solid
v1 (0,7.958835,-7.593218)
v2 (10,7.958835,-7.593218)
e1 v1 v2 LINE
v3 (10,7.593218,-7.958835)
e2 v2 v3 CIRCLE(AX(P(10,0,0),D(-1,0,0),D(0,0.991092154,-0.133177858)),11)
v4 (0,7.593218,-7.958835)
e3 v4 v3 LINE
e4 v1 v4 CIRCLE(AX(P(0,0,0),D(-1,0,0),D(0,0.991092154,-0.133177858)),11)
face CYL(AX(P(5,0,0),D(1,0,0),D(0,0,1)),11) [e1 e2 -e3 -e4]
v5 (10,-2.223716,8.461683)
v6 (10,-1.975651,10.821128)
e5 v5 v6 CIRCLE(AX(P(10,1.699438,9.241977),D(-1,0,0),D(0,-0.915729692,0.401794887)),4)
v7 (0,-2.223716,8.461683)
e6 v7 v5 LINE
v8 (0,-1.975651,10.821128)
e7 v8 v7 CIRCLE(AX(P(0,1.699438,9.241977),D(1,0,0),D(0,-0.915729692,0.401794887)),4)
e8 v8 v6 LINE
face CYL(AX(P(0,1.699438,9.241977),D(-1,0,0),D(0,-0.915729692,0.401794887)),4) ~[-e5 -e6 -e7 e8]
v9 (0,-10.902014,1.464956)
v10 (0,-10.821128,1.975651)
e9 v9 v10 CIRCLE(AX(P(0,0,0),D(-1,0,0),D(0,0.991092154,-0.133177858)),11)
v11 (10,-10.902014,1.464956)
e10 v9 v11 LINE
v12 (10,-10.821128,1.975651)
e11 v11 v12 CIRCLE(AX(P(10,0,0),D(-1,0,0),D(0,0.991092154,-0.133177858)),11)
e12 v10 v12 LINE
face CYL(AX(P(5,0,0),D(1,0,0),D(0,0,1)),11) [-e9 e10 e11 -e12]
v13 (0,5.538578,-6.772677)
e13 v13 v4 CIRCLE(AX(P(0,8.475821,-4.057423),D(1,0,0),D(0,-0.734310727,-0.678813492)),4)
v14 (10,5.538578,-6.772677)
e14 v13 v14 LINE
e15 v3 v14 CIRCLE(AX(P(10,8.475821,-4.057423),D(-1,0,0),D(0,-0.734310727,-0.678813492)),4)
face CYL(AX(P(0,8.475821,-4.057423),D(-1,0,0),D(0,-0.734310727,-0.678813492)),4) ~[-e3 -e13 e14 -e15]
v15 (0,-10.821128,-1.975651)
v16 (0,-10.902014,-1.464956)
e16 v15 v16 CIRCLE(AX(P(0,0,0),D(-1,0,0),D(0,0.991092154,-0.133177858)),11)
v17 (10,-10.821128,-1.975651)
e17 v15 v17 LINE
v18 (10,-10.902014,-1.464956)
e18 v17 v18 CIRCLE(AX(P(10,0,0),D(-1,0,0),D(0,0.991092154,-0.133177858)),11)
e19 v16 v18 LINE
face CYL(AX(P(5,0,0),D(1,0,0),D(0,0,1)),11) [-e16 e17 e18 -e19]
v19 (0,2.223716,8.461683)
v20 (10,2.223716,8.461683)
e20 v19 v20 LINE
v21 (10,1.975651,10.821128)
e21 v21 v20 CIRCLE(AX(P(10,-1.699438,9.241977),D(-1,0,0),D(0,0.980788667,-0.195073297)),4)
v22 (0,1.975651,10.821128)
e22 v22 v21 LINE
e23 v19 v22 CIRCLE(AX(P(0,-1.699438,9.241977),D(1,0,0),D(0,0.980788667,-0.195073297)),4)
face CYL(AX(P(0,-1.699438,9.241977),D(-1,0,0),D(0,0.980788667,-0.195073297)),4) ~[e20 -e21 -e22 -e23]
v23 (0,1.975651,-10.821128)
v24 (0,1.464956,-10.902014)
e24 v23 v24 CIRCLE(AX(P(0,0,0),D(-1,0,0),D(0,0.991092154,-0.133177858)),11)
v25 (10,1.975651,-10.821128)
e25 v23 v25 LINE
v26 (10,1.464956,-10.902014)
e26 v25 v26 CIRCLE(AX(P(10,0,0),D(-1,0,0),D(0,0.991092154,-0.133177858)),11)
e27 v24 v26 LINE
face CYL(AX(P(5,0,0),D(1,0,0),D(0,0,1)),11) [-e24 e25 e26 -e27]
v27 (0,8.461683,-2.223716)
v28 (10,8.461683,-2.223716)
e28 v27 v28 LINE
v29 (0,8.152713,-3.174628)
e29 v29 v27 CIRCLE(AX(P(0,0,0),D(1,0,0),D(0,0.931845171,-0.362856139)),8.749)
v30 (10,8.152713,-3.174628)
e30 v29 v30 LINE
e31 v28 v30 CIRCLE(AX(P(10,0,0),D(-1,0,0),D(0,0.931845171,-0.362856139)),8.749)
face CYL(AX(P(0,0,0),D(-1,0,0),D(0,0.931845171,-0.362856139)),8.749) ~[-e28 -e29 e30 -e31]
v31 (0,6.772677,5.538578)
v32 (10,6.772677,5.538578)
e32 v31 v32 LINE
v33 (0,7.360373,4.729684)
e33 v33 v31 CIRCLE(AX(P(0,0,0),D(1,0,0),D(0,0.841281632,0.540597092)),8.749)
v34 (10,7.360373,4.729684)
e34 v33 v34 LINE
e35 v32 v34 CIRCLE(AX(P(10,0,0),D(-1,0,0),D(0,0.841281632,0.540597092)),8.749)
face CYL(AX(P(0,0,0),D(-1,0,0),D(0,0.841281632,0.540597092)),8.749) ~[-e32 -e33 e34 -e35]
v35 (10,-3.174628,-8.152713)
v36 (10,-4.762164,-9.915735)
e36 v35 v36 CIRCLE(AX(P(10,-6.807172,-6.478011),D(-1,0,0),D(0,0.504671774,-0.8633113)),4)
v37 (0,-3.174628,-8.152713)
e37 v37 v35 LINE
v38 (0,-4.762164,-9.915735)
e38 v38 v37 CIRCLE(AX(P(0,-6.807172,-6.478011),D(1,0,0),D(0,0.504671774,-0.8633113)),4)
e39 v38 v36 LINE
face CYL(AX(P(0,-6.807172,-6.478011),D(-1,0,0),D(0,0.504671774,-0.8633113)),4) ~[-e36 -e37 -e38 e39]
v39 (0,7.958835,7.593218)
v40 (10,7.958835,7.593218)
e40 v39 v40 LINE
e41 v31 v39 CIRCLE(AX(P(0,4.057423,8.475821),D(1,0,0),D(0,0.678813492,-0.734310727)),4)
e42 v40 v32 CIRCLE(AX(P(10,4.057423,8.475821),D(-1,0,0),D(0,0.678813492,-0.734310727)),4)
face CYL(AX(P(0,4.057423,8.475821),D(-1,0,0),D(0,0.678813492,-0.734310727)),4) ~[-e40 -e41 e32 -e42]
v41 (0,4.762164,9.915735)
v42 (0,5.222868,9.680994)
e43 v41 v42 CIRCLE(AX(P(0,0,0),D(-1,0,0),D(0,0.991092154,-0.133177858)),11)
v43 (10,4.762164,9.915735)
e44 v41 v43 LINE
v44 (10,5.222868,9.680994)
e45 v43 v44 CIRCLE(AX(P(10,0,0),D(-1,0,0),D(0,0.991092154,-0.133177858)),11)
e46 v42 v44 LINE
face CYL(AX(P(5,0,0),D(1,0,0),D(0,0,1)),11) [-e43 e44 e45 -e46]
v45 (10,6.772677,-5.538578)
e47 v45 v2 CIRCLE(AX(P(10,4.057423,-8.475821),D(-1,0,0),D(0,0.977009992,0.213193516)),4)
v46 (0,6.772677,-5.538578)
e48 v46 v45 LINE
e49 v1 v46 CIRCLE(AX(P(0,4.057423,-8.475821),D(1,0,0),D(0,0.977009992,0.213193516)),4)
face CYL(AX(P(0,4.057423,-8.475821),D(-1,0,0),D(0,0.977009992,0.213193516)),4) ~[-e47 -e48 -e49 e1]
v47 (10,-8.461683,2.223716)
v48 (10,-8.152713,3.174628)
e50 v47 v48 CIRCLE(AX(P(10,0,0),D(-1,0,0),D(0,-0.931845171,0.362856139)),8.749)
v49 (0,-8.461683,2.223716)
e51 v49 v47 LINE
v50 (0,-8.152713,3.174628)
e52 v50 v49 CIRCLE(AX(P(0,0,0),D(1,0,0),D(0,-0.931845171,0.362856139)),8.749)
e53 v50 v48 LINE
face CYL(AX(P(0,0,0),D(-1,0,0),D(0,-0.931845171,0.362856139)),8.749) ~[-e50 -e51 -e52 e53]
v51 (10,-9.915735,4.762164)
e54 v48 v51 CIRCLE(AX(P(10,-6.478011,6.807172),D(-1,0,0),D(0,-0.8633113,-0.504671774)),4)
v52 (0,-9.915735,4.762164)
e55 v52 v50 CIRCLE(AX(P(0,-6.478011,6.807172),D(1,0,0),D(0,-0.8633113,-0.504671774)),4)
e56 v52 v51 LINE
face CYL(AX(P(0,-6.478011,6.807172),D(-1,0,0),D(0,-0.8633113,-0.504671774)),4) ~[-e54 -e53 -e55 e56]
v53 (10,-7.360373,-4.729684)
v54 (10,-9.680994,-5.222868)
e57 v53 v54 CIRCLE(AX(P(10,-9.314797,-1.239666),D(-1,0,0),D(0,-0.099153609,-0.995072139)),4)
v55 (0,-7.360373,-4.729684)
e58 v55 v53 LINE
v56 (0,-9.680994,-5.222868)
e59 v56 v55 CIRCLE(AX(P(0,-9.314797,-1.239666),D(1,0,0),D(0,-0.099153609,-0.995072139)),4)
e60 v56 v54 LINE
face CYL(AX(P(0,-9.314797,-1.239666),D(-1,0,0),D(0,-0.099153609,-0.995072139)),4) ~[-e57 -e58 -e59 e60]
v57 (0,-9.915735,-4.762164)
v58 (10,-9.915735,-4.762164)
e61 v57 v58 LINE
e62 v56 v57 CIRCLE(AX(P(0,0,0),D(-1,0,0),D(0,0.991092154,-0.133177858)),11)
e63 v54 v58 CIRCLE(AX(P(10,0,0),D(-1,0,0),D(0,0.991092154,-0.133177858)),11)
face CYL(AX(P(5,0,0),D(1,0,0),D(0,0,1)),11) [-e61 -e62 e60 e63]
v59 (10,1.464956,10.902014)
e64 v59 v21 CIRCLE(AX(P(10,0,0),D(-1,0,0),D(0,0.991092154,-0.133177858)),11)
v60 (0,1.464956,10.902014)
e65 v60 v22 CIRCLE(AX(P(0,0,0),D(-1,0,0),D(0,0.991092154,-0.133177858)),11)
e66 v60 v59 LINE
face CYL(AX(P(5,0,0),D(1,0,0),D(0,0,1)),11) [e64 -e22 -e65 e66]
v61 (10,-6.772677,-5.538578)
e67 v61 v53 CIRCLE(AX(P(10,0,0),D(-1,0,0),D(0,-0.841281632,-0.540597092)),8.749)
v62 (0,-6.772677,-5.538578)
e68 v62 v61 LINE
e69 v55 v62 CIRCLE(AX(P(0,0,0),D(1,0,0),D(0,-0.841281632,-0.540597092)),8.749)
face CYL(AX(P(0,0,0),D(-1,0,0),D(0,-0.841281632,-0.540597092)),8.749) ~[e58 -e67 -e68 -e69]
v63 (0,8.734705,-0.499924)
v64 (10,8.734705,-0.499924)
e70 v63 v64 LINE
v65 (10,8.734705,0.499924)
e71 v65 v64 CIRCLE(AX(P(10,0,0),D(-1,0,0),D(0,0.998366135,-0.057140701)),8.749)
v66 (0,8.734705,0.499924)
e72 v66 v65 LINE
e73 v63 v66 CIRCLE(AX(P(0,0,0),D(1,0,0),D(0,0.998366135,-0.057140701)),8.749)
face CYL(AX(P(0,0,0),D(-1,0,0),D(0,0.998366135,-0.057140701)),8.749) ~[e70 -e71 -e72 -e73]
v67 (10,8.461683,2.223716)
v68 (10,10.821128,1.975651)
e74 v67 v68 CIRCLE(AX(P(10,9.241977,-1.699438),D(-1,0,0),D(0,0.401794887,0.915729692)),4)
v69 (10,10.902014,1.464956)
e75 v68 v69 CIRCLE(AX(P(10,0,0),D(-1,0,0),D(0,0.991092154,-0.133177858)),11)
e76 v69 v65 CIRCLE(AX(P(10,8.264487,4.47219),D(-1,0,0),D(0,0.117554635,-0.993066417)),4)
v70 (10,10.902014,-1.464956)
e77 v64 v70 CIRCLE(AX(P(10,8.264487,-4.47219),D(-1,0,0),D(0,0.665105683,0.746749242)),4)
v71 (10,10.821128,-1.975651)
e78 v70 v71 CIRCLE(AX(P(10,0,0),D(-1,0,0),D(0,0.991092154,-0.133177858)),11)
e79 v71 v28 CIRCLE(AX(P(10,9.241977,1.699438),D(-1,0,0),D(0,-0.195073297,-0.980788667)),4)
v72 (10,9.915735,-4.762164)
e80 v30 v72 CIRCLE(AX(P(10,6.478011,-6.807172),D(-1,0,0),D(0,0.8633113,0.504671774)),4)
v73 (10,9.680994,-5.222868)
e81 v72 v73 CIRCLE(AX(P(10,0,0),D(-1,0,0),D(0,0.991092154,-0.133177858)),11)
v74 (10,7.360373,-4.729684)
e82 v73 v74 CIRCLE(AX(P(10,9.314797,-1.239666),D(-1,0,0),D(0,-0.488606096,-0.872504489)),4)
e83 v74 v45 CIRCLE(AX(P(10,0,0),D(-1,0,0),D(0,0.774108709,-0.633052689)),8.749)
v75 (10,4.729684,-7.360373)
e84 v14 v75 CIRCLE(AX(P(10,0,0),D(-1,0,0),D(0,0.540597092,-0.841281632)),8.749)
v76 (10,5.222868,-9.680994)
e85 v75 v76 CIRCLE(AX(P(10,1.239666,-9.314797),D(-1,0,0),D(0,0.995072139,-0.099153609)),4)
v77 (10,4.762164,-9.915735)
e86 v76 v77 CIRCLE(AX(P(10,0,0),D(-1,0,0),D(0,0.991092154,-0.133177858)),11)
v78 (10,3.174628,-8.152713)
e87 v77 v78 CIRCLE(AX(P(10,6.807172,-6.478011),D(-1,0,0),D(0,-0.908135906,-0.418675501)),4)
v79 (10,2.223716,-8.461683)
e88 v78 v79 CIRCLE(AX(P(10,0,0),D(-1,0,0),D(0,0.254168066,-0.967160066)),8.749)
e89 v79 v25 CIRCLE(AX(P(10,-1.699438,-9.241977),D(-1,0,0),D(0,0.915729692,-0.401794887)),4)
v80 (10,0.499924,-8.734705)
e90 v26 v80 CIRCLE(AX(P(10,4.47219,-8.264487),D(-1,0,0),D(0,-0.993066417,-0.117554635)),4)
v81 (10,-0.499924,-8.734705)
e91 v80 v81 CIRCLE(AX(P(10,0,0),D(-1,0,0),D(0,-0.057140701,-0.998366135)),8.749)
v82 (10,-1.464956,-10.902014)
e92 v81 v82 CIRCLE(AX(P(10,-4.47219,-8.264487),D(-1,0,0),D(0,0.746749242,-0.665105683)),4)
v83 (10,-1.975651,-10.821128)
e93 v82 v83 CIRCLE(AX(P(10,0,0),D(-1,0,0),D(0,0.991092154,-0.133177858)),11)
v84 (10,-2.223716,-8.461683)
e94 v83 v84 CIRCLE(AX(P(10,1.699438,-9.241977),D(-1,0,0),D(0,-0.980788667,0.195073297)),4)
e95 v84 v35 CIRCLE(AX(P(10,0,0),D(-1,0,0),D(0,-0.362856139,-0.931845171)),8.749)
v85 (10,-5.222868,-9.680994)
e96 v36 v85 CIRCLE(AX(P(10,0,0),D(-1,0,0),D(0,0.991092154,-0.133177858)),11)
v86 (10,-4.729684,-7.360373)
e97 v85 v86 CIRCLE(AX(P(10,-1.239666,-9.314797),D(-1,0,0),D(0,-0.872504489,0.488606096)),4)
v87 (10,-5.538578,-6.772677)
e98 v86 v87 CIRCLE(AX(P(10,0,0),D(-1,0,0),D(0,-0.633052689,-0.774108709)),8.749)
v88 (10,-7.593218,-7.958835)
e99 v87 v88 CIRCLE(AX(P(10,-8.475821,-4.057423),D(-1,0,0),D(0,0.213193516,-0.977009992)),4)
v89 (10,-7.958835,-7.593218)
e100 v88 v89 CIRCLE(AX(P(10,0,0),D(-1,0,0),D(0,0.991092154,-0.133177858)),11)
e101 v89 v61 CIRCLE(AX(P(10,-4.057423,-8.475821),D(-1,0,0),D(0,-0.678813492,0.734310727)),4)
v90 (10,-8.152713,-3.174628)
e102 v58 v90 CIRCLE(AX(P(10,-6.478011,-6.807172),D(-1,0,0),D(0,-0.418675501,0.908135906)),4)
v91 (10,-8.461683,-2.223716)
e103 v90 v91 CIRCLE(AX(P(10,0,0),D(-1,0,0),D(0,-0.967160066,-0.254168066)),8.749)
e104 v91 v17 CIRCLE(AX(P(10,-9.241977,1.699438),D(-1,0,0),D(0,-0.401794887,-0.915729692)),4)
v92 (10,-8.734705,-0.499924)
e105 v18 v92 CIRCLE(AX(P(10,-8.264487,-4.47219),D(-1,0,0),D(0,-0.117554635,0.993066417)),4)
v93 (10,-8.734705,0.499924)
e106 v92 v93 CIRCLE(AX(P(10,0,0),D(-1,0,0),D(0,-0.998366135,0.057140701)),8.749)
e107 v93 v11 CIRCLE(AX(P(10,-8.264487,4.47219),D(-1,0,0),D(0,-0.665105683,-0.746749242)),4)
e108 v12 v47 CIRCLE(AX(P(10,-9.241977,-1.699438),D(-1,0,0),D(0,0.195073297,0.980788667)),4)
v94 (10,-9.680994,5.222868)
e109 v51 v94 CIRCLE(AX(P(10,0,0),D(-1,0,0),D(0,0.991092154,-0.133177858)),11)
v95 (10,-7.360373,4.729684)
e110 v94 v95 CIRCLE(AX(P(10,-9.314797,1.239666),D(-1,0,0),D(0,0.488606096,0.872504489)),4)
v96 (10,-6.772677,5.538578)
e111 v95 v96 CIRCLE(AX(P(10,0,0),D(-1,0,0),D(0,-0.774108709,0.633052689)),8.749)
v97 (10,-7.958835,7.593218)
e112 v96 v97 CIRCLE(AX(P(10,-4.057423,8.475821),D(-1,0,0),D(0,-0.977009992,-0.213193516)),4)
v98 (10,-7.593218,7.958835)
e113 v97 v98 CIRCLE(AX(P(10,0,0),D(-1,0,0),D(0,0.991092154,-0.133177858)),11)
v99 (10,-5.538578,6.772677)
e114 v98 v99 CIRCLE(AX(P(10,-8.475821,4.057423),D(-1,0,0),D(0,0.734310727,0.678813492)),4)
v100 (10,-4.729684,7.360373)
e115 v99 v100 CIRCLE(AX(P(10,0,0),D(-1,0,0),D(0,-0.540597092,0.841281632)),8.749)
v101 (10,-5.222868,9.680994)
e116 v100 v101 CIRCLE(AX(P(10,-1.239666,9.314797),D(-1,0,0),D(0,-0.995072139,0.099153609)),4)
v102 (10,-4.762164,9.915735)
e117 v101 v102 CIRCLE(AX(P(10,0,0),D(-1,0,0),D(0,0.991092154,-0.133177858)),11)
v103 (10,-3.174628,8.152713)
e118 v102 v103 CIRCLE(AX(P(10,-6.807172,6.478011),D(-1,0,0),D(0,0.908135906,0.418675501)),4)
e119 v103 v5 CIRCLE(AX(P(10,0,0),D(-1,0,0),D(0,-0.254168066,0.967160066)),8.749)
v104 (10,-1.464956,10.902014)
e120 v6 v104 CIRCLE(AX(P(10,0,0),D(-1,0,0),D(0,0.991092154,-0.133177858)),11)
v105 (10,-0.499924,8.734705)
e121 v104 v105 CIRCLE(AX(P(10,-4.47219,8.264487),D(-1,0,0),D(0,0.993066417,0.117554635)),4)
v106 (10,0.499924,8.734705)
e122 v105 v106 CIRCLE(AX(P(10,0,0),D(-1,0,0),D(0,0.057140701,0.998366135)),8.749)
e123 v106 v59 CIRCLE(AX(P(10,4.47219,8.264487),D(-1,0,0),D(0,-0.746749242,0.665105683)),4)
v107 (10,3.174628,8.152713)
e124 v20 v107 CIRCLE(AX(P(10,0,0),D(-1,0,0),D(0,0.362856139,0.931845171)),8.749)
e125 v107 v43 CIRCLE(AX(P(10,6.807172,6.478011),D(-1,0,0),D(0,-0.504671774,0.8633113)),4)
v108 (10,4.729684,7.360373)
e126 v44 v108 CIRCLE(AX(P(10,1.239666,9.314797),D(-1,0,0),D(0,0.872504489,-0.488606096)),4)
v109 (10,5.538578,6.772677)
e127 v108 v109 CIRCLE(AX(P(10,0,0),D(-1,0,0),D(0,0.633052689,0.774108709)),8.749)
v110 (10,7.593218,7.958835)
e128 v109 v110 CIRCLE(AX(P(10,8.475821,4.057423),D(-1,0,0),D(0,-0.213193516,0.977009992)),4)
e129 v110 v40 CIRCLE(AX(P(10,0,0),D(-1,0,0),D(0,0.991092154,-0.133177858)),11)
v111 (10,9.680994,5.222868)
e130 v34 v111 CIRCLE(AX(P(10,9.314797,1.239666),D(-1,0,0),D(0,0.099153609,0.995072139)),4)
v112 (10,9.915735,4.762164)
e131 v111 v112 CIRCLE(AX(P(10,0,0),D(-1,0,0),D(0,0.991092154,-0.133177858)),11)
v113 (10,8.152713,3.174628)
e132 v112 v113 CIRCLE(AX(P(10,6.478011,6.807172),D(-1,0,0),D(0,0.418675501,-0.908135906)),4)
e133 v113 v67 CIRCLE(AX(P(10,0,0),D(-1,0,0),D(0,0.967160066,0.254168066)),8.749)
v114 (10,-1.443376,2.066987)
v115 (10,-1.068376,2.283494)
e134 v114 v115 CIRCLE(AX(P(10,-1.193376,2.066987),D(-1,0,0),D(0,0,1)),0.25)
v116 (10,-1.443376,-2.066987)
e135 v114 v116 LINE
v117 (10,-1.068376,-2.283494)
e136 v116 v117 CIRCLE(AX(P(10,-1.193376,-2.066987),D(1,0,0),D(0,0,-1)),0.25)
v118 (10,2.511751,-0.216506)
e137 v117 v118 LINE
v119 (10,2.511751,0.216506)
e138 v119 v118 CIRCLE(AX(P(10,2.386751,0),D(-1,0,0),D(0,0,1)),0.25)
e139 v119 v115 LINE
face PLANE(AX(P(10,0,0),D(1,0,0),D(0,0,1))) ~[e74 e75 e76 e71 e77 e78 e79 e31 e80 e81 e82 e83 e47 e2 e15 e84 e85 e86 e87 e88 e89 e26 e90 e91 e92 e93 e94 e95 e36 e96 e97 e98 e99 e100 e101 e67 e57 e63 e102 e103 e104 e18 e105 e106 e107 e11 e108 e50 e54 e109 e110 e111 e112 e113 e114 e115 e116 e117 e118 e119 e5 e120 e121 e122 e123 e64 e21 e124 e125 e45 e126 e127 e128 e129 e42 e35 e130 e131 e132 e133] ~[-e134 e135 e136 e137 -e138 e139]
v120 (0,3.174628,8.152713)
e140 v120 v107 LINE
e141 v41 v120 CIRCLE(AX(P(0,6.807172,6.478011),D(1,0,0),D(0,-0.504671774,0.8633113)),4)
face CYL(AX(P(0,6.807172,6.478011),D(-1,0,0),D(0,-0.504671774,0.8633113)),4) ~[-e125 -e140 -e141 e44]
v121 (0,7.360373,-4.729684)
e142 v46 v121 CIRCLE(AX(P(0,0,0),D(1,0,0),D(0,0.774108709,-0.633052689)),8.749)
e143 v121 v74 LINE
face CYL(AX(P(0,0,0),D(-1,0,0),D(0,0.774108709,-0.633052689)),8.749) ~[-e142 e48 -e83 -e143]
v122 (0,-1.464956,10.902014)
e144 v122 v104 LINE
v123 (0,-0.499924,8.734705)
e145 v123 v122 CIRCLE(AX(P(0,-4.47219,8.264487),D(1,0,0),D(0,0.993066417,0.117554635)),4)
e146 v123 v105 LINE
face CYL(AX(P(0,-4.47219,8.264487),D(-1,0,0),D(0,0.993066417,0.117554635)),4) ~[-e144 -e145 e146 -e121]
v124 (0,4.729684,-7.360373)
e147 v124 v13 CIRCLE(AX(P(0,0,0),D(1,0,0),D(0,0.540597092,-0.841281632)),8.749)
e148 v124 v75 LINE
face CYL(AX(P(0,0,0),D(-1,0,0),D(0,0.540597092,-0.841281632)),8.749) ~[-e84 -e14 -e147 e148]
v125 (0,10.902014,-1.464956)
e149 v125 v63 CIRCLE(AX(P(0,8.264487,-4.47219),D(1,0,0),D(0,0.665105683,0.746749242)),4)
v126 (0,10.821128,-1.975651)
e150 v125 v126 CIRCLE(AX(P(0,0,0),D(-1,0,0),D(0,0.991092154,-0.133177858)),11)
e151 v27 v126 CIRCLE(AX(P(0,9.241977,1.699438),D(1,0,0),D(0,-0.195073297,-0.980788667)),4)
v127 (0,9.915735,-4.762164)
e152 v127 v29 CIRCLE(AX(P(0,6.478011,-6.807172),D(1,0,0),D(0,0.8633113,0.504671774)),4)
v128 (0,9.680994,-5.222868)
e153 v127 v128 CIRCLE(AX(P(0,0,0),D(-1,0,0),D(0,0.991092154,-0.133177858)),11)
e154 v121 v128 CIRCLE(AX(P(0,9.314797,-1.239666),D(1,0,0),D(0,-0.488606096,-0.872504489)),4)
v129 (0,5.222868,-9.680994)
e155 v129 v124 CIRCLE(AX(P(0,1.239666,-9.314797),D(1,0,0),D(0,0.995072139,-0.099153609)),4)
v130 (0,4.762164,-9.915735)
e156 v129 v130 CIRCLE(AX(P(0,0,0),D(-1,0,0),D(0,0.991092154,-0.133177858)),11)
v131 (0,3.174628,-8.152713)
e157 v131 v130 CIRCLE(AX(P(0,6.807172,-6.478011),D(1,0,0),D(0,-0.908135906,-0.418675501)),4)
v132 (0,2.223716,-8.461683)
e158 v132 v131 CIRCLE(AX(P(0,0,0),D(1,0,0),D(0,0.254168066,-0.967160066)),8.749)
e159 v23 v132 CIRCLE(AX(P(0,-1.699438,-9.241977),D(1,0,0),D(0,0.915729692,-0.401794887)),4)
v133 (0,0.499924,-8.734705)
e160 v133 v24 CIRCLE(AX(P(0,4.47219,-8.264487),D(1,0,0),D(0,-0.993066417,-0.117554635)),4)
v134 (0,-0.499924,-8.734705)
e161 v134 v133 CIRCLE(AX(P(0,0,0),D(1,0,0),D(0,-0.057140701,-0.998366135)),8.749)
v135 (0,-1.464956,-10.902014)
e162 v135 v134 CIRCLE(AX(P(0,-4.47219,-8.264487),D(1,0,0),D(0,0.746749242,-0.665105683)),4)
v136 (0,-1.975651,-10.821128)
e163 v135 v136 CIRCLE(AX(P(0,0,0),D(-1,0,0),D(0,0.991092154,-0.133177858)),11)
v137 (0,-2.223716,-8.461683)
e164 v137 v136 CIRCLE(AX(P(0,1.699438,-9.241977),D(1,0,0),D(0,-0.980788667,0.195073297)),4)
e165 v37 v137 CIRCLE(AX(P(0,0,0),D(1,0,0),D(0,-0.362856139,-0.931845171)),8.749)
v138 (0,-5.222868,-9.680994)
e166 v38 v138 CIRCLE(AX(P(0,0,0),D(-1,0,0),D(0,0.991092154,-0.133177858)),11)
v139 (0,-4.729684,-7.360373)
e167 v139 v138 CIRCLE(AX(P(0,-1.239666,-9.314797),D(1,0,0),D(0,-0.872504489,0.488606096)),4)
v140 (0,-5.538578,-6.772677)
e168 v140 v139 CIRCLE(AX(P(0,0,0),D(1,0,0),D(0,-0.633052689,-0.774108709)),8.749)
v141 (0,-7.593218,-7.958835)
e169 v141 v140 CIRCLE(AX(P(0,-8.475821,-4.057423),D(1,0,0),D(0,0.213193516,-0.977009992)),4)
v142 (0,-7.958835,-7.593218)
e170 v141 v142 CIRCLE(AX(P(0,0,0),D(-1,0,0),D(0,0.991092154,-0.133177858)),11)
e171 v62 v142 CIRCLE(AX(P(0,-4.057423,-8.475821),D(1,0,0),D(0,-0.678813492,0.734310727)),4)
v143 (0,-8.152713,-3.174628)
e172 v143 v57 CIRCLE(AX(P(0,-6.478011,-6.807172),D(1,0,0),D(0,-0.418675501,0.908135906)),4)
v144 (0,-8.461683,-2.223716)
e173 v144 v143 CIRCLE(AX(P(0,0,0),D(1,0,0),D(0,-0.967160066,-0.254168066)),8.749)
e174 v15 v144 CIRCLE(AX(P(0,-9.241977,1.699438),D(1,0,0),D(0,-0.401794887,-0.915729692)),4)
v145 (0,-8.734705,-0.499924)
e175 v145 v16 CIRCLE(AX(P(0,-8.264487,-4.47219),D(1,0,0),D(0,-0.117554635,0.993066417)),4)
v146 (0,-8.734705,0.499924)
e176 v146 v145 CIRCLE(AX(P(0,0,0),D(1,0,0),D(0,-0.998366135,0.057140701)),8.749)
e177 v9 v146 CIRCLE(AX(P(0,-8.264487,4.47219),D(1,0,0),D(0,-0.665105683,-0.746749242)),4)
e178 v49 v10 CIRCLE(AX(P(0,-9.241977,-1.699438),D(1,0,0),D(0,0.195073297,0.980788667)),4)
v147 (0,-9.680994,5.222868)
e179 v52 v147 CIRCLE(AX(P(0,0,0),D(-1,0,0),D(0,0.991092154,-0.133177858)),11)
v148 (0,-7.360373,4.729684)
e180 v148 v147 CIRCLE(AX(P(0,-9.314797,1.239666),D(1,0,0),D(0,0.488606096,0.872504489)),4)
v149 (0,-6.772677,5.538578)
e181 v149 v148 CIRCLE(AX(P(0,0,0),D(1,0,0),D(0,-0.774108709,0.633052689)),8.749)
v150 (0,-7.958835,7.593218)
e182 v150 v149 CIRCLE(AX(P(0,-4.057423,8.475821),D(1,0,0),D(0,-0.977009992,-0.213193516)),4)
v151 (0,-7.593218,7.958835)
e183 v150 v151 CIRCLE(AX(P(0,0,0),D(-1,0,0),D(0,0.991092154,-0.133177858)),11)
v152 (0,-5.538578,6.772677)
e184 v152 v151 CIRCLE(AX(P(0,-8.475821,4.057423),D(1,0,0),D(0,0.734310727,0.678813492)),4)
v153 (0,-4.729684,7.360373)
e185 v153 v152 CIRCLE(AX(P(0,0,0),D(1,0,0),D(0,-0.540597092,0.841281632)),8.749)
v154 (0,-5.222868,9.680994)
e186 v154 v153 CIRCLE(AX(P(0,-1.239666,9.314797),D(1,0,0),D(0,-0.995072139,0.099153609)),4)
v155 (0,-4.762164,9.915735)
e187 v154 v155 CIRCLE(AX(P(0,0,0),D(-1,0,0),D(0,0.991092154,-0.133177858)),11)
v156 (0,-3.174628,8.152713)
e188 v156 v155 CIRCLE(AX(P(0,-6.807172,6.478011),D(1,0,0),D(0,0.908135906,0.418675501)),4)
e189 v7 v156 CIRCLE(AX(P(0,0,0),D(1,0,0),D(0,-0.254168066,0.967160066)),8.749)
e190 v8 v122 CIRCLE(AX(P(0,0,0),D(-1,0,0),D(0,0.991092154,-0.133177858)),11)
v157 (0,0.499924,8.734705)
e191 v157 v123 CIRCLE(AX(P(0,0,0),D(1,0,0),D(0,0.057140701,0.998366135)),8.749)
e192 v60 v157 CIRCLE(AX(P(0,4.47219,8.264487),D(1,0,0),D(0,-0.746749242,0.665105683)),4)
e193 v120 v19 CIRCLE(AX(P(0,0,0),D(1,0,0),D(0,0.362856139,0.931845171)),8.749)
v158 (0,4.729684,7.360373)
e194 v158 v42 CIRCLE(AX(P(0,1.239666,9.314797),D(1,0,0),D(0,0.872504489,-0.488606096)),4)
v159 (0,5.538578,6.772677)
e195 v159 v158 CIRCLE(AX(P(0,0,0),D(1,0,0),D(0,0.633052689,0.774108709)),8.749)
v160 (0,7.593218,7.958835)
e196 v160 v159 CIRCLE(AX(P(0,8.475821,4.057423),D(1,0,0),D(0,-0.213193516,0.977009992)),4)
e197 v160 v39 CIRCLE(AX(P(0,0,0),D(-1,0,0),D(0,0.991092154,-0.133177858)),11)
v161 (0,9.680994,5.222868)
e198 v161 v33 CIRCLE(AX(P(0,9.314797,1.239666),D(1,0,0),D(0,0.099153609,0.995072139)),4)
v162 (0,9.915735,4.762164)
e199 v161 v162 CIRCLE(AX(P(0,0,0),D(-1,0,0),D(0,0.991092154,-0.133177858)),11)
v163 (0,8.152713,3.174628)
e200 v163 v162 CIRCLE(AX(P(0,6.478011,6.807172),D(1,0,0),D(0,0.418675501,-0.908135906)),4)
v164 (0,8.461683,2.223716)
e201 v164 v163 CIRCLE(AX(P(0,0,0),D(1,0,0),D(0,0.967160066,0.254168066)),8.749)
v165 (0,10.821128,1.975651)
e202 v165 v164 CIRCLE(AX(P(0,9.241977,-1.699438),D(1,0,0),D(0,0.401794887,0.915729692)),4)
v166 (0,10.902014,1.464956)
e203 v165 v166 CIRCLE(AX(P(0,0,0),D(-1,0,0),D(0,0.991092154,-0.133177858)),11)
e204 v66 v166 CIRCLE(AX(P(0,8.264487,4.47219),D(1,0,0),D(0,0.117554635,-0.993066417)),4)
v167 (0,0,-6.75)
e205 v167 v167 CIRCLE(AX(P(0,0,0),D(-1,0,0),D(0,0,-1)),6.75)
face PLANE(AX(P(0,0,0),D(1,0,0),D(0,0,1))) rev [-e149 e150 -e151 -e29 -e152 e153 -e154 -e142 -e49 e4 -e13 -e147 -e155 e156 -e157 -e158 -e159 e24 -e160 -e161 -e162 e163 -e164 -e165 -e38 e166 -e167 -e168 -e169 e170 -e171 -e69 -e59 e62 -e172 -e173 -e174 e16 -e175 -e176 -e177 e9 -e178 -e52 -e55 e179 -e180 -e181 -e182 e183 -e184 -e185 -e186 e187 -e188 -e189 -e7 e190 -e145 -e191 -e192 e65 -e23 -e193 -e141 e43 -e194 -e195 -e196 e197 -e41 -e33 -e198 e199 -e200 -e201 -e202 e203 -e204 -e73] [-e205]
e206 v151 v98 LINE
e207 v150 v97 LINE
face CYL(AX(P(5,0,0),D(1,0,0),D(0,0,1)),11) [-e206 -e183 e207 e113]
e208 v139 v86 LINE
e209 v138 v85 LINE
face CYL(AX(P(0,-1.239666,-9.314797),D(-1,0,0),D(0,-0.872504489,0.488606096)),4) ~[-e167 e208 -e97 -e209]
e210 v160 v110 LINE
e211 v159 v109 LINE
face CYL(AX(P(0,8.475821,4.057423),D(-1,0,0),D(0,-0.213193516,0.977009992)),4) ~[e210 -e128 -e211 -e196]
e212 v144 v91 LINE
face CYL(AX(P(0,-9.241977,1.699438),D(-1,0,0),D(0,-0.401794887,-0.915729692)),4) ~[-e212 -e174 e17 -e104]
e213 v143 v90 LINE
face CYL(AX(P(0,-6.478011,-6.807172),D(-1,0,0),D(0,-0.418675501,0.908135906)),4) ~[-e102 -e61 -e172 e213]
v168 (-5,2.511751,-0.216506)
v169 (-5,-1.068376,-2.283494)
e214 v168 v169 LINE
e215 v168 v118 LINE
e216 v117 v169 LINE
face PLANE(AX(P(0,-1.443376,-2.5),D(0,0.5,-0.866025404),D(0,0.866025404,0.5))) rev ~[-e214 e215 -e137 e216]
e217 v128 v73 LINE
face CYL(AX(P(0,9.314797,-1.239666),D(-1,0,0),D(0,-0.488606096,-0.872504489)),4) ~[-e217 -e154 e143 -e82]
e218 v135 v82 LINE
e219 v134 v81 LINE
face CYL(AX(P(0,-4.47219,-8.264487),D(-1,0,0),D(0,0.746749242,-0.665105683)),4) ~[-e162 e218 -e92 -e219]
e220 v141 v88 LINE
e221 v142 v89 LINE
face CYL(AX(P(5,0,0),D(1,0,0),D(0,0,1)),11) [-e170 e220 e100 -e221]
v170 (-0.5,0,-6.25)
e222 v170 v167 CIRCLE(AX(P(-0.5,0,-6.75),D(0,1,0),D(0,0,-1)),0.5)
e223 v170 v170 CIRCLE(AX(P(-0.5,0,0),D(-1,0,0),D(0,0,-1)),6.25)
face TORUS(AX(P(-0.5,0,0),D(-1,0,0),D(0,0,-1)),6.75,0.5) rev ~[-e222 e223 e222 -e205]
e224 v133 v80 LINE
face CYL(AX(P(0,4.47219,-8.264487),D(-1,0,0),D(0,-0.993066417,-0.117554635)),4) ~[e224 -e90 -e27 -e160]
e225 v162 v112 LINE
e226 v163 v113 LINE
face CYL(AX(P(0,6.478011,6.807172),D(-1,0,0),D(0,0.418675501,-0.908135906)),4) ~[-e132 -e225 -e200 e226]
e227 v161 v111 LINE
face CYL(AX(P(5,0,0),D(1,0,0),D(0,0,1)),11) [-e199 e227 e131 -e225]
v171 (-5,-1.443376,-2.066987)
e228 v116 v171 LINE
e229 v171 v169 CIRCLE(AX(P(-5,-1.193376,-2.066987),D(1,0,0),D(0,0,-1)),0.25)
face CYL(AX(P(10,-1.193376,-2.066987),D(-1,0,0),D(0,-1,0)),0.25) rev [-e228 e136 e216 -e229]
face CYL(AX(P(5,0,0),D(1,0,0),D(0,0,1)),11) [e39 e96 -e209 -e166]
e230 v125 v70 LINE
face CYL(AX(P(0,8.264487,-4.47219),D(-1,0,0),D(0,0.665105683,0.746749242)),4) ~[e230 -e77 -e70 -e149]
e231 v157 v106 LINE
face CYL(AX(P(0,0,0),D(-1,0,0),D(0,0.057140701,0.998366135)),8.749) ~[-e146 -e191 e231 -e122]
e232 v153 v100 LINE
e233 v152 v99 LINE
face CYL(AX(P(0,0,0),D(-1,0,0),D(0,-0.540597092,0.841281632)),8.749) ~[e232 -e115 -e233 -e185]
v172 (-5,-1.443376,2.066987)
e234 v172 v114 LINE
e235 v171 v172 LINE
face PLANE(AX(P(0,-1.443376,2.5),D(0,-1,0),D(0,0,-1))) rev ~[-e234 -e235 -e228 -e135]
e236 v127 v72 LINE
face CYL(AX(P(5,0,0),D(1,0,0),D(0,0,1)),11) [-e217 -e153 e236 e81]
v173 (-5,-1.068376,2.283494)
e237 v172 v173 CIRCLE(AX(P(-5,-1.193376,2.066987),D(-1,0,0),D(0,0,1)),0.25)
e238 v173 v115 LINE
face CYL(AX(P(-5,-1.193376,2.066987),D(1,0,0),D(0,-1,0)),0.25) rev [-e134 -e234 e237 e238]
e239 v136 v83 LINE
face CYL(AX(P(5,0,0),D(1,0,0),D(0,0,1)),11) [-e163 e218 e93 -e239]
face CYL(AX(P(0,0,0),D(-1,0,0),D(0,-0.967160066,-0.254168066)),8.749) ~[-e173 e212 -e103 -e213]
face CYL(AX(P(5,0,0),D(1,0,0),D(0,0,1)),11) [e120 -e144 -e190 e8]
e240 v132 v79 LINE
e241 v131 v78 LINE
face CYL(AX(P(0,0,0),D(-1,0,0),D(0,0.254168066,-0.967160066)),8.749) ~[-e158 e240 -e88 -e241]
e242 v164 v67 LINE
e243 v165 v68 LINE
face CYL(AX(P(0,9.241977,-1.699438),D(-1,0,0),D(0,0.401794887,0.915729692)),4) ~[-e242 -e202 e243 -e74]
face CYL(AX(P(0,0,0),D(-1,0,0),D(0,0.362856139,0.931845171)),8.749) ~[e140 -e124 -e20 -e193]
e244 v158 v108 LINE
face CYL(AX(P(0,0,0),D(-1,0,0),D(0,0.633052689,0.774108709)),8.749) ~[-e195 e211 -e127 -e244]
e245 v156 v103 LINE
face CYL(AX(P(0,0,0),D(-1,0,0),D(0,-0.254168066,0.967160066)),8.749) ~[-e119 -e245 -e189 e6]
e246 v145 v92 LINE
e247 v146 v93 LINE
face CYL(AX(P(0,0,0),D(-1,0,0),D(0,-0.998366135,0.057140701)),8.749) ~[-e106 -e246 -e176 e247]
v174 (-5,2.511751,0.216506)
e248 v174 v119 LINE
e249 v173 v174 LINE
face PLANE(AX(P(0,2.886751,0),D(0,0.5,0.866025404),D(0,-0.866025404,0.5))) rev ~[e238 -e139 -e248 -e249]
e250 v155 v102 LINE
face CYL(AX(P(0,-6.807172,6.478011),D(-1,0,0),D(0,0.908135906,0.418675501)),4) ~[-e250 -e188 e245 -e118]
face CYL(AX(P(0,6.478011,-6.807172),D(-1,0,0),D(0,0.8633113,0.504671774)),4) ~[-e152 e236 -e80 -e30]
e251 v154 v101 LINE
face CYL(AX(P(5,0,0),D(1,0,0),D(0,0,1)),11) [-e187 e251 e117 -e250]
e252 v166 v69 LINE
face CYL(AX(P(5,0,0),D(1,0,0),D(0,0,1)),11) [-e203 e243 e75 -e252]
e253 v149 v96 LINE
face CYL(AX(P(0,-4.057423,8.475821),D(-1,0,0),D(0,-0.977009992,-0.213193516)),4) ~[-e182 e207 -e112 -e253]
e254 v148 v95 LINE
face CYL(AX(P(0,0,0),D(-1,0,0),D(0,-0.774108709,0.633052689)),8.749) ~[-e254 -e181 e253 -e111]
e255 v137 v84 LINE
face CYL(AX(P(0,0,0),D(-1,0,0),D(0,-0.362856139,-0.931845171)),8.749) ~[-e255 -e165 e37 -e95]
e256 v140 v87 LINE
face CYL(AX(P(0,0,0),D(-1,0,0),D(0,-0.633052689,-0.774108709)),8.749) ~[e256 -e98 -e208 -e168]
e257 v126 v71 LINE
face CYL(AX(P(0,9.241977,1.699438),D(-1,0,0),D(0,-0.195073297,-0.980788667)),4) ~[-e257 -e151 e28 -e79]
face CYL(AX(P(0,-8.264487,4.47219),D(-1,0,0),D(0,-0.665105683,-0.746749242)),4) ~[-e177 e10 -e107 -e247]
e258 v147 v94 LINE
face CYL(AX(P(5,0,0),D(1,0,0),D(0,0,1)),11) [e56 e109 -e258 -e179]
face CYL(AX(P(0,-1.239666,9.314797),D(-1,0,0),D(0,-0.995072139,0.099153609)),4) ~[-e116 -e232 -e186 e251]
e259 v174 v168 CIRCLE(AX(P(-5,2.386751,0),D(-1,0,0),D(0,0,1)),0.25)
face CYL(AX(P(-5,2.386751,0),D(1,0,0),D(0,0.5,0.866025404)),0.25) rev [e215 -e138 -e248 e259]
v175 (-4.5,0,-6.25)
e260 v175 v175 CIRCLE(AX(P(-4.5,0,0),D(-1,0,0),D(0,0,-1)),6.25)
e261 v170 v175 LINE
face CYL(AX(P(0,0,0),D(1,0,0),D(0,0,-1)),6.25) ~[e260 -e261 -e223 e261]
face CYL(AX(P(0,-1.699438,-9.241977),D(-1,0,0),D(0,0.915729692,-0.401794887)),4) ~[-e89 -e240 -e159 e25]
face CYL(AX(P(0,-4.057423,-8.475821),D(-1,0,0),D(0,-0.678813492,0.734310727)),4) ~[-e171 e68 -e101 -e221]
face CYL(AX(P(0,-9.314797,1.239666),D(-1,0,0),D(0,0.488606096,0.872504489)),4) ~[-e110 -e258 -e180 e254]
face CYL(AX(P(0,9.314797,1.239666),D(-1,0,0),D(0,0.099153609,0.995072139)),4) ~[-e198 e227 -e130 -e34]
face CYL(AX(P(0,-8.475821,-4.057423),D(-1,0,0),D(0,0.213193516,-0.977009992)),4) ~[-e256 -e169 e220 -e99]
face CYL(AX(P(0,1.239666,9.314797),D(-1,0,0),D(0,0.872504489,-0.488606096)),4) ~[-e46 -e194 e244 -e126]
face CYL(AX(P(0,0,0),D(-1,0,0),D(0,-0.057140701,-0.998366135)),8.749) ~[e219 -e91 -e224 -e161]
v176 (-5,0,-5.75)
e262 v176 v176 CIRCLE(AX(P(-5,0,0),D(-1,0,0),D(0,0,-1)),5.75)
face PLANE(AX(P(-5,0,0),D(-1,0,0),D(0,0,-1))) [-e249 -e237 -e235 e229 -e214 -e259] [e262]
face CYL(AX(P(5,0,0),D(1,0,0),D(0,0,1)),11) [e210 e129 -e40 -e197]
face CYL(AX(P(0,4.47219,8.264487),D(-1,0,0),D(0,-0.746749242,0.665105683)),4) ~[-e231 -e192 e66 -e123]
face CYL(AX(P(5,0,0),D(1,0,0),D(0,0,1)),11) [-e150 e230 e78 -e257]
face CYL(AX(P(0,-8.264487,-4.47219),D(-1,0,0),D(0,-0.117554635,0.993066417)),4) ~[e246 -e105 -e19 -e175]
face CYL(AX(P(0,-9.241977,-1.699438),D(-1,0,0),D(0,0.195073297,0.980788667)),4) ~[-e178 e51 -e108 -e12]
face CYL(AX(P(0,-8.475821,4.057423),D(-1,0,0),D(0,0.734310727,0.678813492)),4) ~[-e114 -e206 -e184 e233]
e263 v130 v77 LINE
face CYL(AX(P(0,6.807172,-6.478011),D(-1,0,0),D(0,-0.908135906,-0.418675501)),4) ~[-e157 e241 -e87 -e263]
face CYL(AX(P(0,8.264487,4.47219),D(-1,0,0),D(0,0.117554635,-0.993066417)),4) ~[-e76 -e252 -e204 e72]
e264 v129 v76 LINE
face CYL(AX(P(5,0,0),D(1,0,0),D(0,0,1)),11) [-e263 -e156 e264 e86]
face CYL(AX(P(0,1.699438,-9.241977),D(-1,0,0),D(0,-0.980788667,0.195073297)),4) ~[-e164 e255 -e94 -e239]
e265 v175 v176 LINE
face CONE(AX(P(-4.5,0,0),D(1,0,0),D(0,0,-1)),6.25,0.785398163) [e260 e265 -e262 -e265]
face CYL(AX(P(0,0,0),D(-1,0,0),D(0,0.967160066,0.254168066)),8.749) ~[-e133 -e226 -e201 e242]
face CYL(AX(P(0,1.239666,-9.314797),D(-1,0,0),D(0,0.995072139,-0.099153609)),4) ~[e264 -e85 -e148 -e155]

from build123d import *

# Parameters (mm, degrees)
BASPROSKE_W             = 10
BASPROSKE_H             = 11
TOOTHCUT_DEPTH          = 19.493242009
TEETHCUTS_COUNT         = 20
TEETHCUTS_ANGLE         = 342
BORSKE_R                = 0.4
BORE_DEPTH              = 50.0000508
SKETCH1_R               = 6.25
BOSS_EXTRUDE1_DEPTH     = 5
CUT_EXTRUDE1_DEPTH      = 19.376827944
CUT_EXTRUDE1_DEPTH_BACK = 19.376827944
FILLET1_R               = 0.5
CHAMFER1_SIZE           = 0.5
FILLET2_R               = 0.25


with BuildPart() as part:
    # BasProSke → Base-Revolve (revolve)
    with BuildSketch(Plane(origin=(0, 0, 0), x_dir=(1, 0, 0), z_dir=(0, 1, 0)), mode=Mode.PRIVATE) as base_revolve_sk:
        with Locations((5, 5.5)):
            Rectangle(BASPROSKE_W, BASPROSKE_H)
    revolve(base_revolve_sk.sketch.rotate(Axis((-10, 0, 0), (1, 0, 0)), 180), axis=Axis((-10, 0, 0), (1, 0, 0)))

    # TooCutSke → ToothCut (cut, through all)
    with BuildSketch(Plane(origin=(0, 0, 0), x_dir=(0, 0, -1), z_dir=(1, 0, 0))):
        with BuildLine():
            ThreePointArc((0.499924007, 8.734705318), (0, 8.749), (-0.499924007, 8.734705318))
            ThreePointArc((-0.499924007, 8.734705318), (-0.824302243, 9.905497836), (-1.485192705, 10.924909509))
            ThreePointArc((-1.485192705, 10.924909509), (0, 11.0254), (1.485192705, 10.924909509))
            ThreePointArc((1.485192705, 10.924909509), (0.824302243, 9.905497836), (0.499924007, 8.734705318))
        make_face()
    toothcut = extrude(amount=TOOTHCUT_DEPTH, mode=Mode.SUBTRACT)

    # TeethCuts: ToothCut ×20 about axis
    teethcuts_axis = Axis((-10, 0, 0), (1, 0, 0))
    for i in range(1, TEETHCUTS_COUNT):
        add(toothcut.rotate(teethcuts_axis, i * TEETHCUTS_ANGLE / (TEETHCUTS_COUNT - 1)), mode=Mode.SUBTRACT)

    # BorSke → Bore (cut, symmetric)
    with BuildSketch(Plane(origin=(0, 0, 0), x_dir=(0, 0, -1), z_dir=(1, 0, 0))):
        with Locations(Location((0, 0, 0), (0, 0, 180))):
            Circle(BORSKE_R)
    extrude(amount=BORE_DEPTH, both=True, mode=Mode.SUBTRACT)

    # Sketch1 → Boss-Extrude1 (add)
    with BuildSketch(Plane.ZY):
        with Locations(Location((0, 0, 0), (0, 0, 180))):
            Circle(SKETCH1_R)
    extrude(amount=BOSS_EXTRUDE1_DEPTH)

    # Sketch2 → Cut-Extrude1 (cut, two sides)
    with BuildSketch(Plane(origin=(0, 0, 0), x_dir=(0, 0, -1), z_dir=(1, 0, 0))) as cut_extrude1_sk:
        Polygon((-2.5, -1.443375673), (2.5, -1.443375673), (0, 2.886751346), align=None)
    extrude(amount=CUT_EXTRUDE1_DEPTH, mode=Mode.SUBTRACT)
    extrude(cut_extrude1_sk.sketch, amount=-CUT_EXTRUDE1_DEPTH_BACK, mode=Mode.SUBTRACT)

    # Fillet1
    fillet1_edges = [part.edges().sort_by_distance(p)[0] for p in [
        (0, 0, 6.25),
    ]]
    fillet(fillet1_edges, radius=FILLET1_R)

    # Chamfer1
    chamfer1_edges = [part.edges().sort_by_distance(p)[0] for p in [
        (-5, 0, 6.25),
    ]]
    chamfer(chamfer1_edges, length=CHAMFER1_SIZE)

    # Fillet2
    fillet2_edges = [part.edges().sort_by_distance(p)[0] for p in [
        (2.5, -1.443375673, 2.5),
        (2.5, 2.886751346, 0),
        (2.5, -1.443375673, -2.5),
    ]]
    fillet(fillet2_edges, radius=FILLET2_R)


solid = part.part
